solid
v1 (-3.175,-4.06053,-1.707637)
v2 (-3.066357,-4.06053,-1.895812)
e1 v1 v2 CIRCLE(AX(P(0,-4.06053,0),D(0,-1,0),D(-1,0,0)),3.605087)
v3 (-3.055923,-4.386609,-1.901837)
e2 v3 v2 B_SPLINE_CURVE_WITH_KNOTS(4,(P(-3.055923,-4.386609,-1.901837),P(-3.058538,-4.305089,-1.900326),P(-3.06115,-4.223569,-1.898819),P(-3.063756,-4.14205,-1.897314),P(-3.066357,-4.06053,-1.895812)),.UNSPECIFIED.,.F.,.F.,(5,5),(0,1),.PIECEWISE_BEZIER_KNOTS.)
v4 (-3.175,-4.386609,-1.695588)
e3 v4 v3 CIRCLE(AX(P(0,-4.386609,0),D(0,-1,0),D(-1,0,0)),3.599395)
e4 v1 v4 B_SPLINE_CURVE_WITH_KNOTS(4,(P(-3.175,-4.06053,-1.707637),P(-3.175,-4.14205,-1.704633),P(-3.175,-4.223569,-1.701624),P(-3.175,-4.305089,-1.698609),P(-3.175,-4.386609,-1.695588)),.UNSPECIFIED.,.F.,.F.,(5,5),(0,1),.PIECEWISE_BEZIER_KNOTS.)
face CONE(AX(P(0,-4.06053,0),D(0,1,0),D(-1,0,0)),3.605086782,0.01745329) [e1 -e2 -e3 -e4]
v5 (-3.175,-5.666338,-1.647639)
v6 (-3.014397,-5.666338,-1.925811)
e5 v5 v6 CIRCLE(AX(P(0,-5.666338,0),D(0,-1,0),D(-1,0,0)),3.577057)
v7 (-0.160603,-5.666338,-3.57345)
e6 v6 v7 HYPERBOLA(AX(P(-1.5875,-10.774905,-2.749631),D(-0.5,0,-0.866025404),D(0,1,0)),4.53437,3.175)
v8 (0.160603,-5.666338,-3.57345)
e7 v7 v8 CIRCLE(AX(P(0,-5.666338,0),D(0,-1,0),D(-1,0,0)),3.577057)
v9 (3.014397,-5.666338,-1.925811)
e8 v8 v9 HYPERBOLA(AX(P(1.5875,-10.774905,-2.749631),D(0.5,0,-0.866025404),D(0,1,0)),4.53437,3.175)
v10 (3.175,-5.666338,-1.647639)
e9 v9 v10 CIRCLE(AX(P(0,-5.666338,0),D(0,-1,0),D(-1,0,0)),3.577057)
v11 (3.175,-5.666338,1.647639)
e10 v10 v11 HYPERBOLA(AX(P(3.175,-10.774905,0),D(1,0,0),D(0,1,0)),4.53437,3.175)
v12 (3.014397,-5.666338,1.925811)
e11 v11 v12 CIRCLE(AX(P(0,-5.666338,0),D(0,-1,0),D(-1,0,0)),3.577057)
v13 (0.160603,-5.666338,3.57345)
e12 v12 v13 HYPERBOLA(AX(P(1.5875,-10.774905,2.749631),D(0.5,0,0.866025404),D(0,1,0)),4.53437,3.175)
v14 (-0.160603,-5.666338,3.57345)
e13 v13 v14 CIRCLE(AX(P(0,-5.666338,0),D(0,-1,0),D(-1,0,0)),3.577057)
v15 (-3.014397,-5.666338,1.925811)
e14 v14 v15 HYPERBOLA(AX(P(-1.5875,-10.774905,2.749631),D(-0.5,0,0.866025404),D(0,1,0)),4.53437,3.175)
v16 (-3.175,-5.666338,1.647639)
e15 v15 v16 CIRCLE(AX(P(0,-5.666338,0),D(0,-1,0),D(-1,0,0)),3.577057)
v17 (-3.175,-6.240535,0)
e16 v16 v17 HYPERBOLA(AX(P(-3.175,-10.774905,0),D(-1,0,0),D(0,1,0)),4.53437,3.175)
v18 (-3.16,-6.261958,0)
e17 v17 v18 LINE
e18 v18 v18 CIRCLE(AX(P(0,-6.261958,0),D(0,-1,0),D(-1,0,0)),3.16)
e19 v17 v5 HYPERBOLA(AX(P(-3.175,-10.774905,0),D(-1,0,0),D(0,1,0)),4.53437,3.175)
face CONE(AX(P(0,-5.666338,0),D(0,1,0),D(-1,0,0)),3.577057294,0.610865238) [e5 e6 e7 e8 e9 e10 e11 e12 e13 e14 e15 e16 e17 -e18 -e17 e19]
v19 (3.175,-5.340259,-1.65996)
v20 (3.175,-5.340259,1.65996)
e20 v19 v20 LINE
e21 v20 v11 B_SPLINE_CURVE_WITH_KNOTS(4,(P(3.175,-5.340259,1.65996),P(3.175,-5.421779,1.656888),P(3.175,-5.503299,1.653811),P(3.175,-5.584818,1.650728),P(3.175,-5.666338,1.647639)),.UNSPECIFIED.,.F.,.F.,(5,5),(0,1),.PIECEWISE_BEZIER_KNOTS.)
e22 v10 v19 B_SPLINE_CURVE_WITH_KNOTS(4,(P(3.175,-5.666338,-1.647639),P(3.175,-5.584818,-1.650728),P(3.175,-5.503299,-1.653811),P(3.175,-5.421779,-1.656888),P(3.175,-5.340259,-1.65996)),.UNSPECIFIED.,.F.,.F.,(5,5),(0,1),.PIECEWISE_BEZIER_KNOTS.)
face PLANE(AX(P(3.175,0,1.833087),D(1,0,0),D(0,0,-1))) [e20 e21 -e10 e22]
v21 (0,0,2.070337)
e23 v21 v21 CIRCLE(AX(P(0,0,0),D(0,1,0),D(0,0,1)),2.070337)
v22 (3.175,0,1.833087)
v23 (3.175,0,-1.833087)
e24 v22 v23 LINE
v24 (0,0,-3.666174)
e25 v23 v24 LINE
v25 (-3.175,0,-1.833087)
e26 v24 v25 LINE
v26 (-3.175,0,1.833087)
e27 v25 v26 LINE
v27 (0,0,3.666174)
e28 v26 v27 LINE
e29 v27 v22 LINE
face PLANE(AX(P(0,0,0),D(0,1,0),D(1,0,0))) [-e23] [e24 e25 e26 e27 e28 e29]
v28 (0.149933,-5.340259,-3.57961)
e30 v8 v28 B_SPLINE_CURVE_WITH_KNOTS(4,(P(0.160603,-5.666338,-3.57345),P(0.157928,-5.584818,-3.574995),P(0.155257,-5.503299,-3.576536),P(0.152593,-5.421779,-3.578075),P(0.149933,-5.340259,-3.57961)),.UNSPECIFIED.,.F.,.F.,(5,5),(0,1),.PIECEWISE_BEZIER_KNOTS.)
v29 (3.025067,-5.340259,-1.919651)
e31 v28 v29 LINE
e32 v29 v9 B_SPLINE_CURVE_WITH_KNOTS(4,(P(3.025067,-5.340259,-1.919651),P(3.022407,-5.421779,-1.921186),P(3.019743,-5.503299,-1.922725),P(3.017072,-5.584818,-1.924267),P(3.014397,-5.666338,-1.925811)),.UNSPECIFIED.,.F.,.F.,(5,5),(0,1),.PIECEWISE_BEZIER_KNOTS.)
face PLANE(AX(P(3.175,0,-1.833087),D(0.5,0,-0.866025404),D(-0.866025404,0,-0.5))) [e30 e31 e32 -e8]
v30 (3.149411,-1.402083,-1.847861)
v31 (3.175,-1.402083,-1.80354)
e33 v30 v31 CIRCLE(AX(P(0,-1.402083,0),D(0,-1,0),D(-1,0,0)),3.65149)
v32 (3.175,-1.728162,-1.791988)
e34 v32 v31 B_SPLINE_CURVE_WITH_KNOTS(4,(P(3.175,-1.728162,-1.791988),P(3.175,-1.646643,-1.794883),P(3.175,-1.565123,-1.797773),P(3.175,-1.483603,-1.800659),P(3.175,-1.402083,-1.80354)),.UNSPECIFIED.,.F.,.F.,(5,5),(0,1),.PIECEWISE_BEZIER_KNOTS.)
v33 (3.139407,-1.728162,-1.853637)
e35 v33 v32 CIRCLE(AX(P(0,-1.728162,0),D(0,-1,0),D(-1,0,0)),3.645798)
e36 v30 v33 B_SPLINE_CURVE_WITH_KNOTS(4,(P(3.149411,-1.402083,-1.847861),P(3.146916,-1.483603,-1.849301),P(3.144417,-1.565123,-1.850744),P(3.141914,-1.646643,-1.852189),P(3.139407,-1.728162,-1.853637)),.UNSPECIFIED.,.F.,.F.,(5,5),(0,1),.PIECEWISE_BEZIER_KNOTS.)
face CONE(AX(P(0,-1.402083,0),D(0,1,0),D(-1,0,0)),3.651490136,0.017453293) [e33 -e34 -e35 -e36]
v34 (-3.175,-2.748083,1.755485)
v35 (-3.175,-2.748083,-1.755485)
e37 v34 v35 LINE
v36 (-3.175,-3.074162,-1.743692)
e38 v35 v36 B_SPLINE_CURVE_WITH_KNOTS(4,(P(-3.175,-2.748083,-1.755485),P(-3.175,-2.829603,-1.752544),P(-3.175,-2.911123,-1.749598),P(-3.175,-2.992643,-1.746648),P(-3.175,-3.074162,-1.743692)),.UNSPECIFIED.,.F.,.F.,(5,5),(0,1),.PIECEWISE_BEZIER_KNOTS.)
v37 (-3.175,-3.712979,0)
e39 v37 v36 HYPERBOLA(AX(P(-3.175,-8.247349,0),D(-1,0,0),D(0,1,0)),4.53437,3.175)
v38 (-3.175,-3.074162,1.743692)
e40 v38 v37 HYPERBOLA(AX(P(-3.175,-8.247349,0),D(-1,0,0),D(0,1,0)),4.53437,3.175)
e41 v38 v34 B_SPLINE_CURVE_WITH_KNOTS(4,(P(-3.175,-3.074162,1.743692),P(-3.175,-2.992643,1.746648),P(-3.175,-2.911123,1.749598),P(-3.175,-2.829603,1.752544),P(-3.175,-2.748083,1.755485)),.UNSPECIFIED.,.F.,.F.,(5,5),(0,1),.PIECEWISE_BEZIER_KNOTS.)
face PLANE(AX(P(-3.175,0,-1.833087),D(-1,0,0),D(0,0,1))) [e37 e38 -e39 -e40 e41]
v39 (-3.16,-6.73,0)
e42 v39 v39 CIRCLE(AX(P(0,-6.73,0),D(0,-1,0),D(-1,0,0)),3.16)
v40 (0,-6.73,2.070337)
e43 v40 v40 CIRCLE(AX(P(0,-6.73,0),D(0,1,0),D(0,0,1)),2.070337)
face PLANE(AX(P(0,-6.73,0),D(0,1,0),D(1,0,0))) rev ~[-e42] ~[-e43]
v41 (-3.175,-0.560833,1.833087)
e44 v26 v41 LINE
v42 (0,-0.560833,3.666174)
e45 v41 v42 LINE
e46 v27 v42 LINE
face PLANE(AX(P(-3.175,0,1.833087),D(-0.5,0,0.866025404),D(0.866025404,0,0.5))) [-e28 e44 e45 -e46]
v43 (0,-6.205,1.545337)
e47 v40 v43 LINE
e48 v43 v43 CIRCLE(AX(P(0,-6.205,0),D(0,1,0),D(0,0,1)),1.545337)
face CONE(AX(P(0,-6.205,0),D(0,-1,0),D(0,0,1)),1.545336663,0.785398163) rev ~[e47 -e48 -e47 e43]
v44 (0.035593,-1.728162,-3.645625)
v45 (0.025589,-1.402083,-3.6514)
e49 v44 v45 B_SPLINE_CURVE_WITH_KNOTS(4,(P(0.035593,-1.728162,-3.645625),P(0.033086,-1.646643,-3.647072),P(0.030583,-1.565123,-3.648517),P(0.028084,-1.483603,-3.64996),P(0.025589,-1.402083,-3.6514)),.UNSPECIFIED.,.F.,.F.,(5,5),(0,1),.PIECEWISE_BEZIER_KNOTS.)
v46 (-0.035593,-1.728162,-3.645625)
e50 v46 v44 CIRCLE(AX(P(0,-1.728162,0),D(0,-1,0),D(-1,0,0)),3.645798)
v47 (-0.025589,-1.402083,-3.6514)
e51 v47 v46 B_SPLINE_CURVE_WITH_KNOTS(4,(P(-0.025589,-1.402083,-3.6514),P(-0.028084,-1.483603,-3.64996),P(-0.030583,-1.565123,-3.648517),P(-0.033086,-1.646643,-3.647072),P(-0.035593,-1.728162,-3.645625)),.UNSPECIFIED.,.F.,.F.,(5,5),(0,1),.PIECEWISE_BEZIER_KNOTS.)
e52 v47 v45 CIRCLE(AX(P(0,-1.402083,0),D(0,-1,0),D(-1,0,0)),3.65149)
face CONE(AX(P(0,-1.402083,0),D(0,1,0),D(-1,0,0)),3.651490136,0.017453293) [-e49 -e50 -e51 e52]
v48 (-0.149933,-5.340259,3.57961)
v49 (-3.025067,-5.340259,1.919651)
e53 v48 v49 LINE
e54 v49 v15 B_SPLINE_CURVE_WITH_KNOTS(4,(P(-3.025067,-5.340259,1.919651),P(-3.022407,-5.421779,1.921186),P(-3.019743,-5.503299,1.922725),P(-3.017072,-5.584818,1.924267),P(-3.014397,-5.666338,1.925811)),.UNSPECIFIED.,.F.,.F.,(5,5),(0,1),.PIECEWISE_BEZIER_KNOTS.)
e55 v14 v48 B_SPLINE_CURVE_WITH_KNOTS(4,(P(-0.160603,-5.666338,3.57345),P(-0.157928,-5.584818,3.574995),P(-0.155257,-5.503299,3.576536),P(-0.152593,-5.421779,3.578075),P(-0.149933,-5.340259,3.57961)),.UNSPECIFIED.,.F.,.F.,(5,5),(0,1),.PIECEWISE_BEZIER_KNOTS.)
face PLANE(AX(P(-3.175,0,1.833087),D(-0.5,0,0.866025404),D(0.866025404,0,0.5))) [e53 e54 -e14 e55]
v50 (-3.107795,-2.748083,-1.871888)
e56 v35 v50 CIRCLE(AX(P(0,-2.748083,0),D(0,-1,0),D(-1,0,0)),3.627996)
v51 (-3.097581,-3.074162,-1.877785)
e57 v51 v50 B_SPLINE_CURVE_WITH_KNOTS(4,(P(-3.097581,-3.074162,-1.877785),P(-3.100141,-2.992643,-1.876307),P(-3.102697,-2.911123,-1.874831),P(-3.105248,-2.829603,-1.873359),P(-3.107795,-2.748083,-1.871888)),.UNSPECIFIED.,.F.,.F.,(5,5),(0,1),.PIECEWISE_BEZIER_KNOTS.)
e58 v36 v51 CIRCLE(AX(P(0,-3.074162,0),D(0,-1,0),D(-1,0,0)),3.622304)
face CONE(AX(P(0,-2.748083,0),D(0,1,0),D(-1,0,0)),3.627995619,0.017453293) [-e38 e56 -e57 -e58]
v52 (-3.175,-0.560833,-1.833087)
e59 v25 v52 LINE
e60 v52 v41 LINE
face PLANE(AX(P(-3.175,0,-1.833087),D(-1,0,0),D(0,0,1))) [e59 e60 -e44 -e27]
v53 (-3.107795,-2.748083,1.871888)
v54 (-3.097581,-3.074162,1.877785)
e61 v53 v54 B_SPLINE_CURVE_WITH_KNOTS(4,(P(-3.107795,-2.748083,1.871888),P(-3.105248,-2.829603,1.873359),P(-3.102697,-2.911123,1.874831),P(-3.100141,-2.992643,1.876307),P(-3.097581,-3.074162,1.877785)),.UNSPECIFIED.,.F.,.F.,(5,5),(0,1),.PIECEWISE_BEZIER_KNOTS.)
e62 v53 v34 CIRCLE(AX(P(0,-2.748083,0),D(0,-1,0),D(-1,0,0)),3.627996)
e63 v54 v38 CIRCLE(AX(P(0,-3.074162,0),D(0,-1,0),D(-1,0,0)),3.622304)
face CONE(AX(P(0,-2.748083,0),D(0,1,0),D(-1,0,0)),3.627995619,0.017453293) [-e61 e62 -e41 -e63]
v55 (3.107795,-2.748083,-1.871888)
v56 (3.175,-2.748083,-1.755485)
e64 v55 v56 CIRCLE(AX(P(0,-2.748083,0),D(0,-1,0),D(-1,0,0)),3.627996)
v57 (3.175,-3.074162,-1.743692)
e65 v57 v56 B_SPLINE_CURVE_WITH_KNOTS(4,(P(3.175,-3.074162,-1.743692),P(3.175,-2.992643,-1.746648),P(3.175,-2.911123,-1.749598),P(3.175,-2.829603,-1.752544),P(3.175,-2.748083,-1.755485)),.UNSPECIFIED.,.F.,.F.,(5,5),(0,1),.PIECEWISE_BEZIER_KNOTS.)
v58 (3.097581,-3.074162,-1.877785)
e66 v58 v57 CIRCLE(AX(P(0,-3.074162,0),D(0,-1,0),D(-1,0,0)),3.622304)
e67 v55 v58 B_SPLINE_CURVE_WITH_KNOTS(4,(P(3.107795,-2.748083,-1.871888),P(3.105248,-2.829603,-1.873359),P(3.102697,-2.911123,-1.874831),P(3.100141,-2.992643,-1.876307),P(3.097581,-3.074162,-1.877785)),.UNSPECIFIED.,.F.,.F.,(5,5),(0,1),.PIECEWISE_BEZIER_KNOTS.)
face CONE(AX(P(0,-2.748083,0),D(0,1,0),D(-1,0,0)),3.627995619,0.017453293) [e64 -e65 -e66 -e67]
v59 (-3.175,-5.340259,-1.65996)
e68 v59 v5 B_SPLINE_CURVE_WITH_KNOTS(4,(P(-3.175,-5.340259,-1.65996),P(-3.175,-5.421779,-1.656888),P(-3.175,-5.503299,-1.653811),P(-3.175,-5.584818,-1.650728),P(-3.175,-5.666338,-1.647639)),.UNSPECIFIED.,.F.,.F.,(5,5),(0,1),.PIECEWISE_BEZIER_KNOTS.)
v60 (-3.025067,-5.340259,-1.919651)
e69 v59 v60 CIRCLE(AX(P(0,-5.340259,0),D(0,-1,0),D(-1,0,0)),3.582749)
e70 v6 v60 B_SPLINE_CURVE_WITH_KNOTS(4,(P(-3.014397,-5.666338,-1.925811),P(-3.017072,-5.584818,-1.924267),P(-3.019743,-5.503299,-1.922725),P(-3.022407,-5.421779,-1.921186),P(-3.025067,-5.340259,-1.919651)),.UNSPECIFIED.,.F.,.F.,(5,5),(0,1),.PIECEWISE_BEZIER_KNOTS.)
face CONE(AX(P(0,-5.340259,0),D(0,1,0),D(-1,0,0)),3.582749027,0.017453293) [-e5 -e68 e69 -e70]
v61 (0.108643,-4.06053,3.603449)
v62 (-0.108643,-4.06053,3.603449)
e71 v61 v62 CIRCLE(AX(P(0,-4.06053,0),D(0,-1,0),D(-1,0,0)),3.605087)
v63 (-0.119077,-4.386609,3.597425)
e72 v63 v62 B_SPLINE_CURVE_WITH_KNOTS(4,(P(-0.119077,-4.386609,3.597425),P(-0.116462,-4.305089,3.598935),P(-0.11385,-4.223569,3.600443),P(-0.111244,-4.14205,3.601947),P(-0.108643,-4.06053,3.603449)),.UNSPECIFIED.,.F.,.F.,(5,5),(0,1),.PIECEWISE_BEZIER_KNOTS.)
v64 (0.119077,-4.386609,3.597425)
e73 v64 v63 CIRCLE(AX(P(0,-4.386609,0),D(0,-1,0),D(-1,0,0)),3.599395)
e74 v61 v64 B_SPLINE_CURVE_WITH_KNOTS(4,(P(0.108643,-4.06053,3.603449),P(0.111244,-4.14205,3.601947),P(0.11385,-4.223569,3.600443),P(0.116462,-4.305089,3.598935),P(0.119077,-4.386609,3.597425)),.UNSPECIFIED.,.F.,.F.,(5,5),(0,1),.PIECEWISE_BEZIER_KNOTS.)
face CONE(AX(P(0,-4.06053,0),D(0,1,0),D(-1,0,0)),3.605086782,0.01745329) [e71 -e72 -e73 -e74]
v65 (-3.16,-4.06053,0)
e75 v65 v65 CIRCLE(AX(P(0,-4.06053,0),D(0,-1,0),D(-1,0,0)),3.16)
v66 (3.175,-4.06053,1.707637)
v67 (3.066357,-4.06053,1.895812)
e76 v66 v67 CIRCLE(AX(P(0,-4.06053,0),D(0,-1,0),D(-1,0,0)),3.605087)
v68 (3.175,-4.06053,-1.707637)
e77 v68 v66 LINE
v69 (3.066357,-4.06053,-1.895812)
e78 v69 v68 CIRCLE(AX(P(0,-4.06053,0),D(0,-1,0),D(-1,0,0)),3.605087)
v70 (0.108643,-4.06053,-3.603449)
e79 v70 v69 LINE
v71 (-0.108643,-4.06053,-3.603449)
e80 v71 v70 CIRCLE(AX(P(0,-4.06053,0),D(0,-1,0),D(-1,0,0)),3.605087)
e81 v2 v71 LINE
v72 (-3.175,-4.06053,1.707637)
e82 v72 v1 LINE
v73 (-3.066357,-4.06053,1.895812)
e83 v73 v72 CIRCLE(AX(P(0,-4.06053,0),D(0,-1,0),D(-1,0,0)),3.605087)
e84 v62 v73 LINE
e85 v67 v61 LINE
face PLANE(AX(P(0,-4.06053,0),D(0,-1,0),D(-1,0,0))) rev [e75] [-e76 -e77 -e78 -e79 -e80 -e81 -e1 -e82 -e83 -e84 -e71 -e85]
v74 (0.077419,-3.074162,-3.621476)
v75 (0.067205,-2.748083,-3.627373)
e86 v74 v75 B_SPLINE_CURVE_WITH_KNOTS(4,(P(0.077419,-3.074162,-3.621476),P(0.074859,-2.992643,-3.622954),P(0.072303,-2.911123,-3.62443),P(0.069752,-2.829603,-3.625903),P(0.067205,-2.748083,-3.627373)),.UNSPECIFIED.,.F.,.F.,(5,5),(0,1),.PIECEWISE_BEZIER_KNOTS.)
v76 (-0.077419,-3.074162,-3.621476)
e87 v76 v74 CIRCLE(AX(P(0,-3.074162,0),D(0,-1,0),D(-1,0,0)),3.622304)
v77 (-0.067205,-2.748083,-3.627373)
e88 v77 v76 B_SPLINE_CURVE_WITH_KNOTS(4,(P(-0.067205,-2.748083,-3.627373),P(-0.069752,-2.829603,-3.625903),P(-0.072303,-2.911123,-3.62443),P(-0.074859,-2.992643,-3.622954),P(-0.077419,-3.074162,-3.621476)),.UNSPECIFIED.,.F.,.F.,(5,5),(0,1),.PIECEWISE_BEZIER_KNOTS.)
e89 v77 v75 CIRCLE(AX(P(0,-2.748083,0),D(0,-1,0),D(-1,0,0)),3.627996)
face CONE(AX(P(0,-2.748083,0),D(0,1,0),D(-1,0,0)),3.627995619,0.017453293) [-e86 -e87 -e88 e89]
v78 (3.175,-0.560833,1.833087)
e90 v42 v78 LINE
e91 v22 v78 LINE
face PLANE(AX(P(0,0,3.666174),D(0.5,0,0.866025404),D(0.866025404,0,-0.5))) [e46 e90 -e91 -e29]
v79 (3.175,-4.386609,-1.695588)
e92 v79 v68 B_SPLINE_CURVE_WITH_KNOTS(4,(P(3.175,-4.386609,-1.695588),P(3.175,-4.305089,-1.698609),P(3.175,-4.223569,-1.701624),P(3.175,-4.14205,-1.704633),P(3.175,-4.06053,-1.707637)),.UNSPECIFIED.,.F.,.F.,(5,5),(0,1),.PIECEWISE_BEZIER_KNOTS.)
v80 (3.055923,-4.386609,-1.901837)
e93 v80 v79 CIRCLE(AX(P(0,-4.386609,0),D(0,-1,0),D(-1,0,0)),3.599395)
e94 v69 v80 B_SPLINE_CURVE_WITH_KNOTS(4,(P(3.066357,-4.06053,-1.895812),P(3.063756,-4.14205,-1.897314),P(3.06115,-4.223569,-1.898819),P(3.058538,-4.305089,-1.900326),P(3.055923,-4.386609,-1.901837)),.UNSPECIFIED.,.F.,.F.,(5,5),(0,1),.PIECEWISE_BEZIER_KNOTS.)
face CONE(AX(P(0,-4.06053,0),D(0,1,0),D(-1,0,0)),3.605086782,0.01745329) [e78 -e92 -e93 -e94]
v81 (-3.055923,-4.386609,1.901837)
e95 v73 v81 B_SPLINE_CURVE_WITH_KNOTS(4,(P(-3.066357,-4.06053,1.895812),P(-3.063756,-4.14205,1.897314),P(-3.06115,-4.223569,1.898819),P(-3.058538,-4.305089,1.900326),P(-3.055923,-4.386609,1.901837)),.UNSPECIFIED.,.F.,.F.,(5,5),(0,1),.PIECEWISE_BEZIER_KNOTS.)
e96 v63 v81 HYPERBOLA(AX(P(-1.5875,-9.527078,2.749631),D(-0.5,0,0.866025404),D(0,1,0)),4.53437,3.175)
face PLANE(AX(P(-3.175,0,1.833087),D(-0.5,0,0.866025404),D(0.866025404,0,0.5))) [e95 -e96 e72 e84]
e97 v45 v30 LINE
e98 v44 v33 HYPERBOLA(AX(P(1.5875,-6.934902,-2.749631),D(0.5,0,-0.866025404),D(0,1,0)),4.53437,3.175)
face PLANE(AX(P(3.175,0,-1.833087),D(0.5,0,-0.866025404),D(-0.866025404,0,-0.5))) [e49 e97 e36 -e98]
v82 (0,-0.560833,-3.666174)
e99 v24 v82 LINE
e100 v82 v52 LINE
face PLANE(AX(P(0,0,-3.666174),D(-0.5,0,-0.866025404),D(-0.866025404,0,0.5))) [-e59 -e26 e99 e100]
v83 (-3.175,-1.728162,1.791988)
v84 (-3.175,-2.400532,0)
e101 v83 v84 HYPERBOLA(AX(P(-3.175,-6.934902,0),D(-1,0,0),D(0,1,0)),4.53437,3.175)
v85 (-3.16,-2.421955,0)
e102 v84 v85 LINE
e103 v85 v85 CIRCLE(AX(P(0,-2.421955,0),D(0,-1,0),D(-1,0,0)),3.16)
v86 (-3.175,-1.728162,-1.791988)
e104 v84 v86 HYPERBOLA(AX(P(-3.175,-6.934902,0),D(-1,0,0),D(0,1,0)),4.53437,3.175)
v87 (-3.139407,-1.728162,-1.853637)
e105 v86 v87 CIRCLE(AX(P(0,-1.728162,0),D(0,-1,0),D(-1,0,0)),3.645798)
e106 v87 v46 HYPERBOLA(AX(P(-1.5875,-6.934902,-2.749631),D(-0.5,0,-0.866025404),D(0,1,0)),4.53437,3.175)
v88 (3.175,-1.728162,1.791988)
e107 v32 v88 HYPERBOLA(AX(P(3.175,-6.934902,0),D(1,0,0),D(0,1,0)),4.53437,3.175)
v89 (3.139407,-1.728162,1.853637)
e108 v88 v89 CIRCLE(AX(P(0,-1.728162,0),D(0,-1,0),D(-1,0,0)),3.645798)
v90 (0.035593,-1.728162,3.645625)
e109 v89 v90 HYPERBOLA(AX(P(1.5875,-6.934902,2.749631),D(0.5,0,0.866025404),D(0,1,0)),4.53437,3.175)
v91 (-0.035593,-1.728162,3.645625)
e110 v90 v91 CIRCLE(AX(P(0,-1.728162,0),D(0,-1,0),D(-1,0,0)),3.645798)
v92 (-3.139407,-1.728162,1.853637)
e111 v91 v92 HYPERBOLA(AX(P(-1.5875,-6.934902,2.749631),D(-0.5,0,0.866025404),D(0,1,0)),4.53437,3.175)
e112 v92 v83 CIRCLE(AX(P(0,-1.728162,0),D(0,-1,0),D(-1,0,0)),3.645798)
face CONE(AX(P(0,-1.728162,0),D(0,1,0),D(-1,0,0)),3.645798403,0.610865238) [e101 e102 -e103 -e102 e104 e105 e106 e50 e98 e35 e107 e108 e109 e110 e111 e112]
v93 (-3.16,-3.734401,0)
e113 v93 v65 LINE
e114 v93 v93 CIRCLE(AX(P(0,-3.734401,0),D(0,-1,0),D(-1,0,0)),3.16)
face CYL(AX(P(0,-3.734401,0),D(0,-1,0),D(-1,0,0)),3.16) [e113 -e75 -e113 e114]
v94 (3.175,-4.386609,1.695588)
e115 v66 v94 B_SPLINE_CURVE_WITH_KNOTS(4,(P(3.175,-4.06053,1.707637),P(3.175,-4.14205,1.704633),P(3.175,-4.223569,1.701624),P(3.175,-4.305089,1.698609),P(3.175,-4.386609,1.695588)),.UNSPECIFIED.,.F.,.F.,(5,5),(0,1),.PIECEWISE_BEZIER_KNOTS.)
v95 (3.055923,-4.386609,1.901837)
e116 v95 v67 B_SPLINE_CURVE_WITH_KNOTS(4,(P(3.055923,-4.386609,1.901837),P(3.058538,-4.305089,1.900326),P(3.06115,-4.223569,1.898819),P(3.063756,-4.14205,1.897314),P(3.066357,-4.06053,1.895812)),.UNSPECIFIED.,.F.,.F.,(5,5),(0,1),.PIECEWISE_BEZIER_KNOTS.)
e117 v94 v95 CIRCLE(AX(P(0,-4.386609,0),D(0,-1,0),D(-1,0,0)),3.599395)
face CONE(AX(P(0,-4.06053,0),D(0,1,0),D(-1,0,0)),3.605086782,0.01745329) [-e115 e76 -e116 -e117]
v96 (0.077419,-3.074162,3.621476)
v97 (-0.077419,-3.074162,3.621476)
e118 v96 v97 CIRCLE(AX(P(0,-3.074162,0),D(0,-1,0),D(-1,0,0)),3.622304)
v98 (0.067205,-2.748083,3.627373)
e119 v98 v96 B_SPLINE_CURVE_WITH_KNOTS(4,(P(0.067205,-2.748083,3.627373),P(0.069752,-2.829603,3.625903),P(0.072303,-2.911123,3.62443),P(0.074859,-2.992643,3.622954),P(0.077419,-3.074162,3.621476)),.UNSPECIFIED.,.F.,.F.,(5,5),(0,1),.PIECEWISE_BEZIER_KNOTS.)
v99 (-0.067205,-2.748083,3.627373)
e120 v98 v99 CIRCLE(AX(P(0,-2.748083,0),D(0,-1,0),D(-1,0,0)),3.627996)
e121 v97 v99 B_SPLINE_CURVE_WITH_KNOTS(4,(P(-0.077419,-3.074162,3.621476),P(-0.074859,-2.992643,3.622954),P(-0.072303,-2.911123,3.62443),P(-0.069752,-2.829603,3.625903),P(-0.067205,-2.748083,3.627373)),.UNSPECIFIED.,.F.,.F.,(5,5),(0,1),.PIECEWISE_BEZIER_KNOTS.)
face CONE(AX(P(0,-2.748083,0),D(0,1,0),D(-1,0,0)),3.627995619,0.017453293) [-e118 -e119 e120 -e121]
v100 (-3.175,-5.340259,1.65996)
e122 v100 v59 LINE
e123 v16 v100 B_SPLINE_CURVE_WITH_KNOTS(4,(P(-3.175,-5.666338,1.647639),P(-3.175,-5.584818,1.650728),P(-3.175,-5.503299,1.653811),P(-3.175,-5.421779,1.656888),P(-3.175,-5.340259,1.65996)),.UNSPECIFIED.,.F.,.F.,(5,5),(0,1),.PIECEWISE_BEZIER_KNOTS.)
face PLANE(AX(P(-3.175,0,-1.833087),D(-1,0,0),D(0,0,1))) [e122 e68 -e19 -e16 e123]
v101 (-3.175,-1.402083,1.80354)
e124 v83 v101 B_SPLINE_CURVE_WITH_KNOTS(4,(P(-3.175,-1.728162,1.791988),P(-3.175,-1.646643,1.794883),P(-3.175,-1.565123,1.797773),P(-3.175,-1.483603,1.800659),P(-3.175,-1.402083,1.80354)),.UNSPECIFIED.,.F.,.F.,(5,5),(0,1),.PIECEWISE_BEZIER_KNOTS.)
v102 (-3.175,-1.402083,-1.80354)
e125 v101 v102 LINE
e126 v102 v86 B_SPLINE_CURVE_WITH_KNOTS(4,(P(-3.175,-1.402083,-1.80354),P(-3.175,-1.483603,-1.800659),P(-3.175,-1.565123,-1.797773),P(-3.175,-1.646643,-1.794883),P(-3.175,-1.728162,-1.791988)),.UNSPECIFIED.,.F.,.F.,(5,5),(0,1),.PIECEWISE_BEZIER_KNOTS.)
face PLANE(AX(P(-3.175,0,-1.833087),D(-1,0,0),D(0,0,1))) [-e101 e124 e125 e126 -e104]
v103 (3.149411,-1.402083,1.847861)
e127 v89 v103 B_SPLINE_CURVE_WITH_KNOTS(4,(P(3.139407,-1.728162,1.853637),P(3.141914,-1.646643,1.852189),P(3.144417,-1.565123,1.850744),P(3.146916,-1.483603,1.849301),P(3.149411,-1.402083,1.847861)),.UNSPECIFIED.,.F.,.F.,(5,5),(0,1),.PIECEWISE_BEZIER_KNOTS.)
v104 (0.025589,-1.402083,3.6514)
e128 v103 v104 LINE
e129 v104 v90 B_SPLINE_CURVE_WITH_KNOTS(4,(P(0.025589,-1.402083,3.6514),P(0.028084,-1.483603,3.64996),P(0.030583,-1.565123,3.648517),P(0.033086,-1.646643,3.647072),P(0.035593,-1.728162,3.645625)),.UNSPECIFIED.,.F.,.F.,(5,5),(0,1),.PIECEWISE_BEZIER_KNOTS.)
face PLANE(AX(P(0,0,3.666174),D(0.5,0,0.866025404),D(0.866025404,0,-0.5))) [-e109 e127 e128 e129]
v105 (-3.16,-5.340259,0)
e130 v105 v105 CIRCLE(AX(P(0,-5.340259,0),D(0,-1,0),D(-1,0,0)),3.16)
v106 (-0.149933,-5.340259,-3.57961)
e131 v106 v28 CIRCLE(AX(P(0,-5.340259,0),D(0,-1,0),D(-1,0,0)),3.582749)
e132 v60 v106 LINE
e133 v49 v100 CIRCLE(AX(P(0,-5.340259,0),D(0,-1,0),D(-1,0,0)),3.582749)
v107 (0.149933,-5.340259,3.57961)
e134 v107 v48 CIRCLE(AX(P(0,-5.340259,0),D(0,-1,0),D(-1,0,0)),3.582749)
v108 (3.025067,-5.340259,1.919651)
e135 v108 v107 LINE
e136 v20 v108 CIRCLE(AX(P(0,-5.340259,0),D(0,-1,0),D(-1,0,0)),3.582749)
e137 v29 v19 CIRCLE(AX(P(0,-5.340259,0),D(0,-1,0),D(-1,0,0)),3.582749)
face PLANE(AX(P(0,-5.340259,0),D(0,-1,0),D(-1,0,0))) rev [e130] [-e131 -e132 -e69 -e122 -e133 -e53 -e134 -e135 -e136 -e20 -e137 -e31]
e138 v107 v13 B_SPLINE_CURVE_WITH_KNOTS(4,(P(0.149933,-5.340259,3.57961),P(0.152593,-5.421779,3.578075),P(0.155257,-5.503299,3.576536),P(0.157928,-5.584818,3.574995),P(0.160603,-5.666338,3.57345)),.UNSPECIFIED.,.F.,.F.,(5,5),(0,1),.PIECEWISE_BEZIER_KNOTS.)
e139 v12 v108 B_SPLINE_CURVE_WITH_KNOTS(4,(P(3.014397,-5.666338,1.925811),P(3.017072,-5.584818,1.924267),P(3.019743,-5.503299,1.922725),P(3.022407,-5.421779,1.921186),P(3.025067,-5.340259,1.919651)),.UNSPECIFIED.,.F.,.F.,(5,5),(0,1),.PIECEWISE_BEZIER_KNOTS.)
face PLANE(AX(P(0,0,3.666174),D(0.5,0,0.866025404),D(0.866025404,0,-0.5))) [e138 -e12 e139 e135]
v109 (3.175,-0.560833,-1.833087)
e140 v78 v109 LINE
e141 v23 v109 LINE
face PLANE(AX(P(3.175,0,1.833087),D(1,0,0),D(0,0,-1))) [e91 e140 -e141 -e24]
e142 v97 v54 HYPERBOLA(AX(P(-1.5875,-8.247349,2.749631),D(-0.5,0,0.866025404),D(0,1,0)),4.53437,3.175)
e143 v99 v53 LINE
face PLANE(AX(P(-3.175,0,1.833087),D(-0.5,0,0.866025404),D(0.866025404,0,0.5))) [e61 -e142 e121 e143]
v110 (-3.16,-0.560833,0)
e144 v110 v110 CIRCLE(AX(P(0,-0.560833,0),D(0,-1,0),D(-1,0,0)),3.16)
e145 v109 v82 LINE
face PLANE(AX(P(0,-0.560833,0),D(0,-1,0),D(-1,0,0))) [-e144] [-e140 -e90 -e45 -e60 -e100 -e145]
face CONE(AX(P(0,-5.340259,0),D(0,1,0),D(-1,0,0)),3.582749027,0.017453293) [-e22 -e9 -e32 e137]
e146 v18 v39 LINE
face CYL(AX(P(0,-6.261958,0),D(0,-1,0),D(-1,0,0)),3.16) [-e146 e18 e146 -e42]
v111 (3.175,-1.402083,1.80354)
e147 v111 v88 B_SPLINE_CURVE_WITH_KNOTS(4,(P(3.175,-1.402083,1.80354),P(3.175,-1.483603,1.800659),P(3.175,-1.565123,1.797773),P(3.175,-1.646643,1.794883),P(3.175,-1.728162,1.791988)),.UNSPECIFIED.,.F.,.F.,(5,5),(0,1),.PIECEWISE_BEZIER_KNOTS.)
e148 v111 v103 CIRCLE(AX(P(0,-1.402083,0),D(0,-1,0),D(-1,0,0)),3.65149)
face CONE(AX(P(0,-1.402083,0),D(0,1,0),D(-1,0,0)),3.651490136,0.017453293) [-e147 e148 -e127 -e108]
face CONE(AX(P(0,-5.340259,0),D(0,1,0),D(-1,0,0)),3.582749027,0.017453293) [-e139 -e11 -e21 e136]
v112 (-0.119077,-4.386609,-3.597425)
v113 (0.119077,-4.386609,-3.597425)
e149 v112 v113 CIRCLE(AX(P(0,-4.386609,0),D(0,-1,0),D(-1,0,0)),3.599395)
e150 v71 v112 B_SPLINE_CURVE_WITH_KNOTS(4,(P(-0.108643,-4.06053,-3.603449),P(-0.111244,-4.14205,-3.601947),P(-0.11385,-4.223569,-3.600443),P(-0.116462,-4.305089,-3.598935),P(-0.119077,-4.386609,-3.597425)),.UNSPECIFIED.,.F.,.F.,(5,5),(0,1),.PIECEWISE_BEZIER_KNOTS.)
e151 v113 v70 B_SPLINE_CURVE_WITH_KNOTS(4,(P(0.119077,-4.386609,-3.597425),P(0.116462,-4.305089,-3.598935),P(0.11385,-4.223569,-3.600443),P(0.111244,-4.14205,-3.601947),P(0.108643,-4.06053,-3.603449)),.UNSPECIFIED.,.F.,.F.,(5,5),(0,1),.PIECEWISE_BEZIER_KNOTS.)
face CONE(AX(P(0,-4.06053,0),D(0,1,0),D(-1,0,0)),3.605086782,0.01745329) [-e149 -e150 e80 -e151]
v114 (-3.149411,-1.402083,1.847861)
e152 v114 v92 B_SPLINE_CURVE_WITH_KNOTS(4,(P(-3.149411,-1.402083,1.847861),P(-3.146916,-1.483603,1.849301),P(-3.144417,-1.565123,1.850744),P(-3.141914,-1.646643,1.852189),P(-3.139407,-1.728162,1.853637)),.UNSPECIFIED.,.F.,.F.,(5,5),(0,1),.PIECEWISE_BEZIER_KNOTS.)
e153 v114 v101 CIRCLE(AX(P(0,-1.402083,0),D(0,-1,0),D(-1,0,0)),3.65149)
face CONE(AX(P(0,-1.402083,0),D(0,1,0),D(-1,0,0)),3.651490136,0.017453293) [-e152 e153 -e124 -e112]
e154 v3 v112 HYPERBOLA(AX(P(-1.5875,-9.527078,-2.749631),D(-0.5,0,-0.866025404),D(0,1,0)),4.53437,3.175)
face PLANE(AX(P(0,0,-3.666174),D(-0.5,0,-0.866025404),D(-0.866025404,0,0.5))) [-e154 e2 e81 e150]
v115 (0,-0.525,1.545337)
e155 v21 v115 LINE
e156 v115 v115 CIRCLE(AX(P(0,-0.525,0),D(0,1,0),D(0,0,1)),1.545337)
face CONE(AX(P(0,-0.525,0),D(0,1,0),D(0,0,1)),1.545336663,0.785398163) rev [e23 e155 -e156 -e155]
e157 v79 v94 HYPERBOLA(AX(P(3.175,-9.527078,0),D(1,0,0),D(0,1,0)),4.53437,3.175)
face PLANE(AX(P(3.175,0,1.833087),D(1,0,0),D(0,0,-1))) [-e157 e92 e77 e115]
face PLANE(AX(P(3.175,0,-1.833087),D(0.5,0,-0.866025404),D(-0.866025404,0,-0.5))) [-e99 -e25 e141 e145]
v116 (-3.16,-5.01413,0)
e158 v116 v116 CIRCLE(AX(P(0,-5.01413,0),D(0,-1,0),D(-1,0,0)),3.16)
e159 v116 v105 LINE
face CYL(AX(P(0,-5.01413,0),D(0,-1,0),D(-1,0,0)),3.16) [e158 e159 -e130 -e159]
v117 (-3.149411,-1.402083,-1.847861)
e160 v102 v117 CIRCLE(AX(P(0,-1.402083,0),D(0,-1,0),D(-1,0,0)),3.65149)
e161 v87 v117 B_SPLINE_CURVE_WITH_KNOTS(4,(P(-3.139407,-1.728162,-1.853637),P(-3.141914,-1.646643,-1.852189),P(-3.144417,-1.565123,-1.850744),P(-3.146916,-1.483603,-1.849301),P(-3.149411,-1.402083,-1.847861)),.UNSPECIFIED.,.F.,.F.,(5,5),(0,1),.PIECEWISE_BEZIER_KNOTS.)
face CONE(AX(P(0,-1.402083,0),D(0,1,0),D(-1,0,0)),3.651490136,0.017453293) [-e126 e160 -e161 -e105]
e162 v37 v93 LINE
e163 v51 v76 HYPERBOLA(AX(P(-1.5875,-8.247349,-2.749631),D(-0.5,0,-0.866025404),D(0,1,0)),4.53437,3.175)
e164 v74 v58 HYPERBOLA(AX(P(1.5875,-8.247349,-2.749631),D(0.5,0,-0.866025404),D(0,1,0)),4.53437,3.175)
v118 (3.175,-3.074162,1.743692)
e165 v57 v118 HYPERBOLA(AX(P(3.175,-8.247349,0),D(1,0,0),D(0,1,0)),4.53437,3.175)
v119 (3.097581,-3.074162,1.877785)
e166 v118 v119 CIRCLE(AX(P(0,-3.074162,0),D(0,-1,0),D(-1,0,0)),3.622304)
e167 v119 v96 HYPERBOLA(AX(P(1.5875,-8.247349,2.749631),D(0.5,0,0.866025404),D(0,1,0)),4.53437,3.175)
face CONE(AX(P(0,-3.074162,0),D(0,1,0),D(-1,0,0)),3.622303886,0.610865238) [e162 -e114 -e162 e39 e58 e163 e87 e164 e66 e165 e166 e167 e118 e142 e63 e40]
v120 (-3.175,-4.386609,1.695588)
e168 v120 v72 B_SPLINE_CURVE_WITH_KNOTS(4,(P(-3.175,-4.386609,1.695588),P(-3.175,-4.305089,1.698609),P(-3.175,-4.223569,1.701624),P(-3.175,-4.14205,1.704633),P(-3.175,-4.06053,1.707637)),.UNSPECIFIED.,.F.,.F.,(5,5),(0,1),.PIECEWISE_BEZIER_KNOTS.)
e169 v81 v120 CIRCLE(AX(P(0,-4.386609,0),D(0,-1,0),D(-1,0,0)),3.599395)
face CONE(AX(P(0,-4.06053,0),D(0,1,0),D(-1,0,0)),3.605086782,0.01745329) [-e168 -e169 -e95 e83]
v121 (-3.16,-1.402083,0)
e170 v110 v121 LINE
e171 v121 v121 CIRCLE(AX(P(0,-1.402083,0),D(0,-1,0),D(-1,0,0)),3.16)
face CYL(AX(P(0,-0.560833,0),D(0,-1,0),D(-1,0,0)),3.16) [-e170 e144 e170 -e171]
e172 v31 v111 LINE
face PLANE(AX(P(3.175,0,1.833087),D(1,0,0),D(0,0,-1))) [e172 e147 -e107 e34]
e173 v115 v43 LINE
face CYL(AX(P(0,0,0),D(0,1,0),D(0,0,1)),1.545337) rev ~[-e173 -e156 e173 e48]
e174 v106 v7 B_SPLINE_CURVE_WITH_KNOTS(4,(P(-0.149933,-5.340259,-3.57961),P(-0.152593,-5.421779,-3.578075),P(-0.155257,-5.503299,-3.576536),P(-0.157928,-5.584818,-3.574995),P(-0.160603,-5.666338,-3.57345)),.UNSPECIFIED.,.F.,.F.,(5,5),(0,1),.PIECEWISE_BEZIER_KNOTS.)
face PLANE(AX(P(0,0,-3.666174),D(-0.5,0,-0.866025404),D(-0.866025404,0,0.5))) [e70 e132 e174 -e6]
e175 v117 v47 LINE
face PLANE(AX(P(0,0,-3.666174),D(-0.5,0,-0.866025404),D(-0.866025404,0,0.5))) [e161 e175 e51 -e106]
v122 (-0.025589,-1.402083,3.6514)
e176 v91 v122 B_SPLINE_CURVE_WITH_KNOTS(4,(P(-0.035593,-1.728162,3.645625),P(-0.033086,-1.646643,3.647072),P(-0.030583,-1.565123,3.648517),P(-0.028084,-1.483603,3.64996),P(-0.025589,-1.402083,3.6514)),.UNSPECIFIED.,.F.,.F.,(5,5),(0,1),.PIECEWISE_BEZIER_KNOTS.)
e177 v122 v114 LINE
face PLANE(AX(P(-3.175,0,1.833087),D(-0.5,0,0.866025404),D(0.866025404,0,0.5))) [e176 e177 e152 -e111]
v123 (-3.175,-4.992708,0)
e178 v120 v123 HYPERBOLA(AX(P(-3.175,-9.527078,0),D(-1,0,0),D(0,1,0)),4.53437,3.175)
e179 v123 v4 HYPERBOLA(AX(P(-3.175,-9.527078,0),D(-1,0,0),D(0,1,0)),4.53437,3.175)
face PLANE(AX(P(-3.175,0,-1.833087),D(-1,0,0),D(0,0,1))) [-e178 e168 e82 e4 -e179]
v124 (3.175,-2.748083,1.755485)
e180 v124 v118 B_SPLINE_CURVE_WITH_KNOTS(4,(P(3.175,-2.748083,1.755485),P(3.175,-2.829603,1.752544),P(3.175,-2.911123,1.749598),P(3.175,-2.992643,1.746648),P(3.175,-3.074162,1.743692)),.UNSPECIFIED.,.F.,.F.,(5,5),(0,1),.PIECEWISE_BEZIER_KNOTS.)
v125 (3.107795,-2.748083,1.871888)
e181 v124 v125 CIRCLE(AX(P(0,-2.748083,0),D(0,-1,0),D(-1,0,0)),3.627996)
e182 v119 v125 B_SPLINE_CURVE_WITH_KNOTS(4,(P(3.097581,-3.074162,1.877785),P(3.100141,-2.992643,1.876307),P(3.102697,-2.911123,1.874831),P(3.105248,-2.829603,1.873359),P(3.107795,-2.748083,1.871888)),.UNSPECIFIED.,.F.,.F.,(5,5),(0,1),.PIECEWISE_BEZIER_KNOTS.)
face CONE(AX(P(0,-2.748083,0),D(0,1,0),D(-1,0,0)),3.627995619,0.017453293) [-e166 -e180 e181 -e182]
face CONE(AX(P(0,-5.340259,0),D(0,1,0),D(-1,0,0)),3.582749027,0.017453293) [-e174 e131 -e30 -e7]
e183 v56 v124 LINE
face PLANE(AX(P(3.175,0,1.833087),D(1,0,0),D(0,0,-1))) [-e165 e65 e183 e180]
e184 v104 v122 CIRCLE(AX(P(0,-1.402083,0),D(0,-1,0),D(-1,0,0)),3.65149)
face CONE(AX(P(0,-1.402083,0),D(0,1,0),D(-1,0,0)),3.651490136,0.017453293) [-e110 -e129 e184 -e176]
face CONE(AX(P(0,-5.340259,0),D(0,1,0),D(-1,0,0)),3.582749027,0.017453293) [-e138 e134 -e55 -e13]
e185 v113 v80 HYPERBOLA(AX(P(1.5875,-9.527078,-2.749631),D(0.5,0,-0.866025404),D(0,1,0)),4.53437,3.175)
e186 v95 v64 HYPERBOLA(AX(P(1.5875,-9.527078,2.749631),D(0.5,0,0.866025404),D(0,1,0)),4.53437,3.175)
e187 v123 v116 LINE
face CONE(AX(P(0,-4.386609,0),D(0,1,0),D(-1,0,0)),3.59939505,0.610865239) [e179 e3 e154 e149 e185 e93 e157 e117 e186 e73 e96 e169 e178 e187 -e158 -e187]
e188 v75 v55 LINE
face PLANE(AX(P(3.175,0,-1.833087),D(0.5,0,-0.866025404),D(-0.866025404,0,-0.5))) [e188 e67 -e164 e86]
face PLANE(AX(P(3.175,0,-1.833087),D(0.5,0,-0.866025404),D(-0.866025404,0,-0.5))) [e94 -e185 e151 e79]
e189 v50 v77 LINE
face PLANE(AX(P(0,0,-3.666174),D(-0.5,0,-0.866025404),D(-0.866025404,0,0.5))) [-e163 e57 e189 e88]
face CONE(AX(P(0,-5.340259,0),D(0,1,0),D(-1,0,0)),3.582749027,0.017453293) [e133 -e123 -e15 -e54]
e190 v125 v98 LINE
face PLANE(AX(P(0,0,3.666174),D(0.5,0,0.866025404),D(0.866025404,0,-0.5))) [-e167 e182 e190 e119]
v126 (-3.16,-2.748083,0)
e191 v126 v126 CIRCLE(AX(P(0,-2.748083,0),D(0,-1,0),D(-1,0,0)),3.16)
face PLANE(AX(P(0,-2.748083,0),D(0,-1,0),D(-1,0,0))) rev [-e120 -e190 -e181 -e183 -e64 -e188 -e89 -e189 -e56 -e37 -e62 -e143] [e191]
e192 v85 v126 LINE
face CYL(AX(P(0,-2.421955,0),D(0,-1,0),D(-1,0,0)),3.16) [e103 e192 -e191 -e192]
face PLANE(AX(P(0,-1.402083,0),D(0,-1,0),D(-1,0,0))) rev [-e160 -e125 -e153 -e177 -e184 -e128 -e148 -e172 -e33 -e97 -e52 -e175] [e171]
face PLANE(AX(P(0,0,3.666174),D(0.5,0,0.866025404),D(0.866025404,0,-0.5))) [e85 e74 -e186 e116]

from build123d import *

# Parameters (mm, degrees)
EXTRUDE1_DEPTH = 6.73
SKETCH4_R      = 1.545336663
EXTRUDE2_DEPTH = 9.295442022
CHAMFER1_SIZE  = 0.525


with BuildPart() as part:
    # Sketch1 → Extrude1 (new body)
    with BuildSketch(Plane(origin=(0, 0, 0), x_dir=(1, 0, 0), z_dir=(0, 1, 0))):
        Polygon((0, 3.666174209), (-3.175, 1.833087105), (-3.175, -1.833087105), (0, -3.666174209), (3.175, -1.833087105), (3.175, 1.833087105), align=None)
    extrude(amount=-EXTRUDE1_DEPTH)

    # Sketch4 → Extrude2 (cut, through all)
    with BuildSketch(Plane(origin=(0, 0, 0), x_dir=(-1, 0, 0), z_dir=(0, 1, 0))):
        Circle(SKETCH4_R)
    extrude(amount=-EXTRUDE2_DEPTH, mode=Mode.SUBTRACT)

    # Chamfer1
    chamfer1_edges = [part.edges().sort_by_distance(p)[0] for p in [
        (1.545336663, 0, 0),
        (1.545336663, -6.73, 0),
    ]]
    chamfer(chamfer1_edges, length=CHAMFER1_SIZE)

    # Sketch5 → Cut-Revolve1 (revolve, cut)
    with BuildSketch(Plane.XY):
        Polygon((-3.16, -6.73), (-3.666174209, -6.73), (-4.172348419, -6.73), (-4.172348419, 0), (-3.666174209, 0), (-3.666174209, -0.560833333), (-3.16, -0.560833333), (-3.16, -1.402083333), (-3.651490136, -1.402083333), (-3.645798403, -1.728162487), (-3.16, -2.421954508), (-3.16, -2.748083333), (-3.627995619, -2.748083333), (-3.622303886, -3.074162487), (-3.16, -3.73440086), (-3.16, -4.060529685), (-3.605086782, -4.060529685), (-3.59939505, -4.386608839), (-3.16, -5.014130003), (-3.16, -5.340258828), (-3.582749027, -5.340258828), (-3.577057294, -5.666337982), (-3.16, -6.261957525), align=None)
    revolve(axis=Axis((0, 0, 0), (0, -1, 0)), mode=Mode.SUBTRACT)


solid = part.part
